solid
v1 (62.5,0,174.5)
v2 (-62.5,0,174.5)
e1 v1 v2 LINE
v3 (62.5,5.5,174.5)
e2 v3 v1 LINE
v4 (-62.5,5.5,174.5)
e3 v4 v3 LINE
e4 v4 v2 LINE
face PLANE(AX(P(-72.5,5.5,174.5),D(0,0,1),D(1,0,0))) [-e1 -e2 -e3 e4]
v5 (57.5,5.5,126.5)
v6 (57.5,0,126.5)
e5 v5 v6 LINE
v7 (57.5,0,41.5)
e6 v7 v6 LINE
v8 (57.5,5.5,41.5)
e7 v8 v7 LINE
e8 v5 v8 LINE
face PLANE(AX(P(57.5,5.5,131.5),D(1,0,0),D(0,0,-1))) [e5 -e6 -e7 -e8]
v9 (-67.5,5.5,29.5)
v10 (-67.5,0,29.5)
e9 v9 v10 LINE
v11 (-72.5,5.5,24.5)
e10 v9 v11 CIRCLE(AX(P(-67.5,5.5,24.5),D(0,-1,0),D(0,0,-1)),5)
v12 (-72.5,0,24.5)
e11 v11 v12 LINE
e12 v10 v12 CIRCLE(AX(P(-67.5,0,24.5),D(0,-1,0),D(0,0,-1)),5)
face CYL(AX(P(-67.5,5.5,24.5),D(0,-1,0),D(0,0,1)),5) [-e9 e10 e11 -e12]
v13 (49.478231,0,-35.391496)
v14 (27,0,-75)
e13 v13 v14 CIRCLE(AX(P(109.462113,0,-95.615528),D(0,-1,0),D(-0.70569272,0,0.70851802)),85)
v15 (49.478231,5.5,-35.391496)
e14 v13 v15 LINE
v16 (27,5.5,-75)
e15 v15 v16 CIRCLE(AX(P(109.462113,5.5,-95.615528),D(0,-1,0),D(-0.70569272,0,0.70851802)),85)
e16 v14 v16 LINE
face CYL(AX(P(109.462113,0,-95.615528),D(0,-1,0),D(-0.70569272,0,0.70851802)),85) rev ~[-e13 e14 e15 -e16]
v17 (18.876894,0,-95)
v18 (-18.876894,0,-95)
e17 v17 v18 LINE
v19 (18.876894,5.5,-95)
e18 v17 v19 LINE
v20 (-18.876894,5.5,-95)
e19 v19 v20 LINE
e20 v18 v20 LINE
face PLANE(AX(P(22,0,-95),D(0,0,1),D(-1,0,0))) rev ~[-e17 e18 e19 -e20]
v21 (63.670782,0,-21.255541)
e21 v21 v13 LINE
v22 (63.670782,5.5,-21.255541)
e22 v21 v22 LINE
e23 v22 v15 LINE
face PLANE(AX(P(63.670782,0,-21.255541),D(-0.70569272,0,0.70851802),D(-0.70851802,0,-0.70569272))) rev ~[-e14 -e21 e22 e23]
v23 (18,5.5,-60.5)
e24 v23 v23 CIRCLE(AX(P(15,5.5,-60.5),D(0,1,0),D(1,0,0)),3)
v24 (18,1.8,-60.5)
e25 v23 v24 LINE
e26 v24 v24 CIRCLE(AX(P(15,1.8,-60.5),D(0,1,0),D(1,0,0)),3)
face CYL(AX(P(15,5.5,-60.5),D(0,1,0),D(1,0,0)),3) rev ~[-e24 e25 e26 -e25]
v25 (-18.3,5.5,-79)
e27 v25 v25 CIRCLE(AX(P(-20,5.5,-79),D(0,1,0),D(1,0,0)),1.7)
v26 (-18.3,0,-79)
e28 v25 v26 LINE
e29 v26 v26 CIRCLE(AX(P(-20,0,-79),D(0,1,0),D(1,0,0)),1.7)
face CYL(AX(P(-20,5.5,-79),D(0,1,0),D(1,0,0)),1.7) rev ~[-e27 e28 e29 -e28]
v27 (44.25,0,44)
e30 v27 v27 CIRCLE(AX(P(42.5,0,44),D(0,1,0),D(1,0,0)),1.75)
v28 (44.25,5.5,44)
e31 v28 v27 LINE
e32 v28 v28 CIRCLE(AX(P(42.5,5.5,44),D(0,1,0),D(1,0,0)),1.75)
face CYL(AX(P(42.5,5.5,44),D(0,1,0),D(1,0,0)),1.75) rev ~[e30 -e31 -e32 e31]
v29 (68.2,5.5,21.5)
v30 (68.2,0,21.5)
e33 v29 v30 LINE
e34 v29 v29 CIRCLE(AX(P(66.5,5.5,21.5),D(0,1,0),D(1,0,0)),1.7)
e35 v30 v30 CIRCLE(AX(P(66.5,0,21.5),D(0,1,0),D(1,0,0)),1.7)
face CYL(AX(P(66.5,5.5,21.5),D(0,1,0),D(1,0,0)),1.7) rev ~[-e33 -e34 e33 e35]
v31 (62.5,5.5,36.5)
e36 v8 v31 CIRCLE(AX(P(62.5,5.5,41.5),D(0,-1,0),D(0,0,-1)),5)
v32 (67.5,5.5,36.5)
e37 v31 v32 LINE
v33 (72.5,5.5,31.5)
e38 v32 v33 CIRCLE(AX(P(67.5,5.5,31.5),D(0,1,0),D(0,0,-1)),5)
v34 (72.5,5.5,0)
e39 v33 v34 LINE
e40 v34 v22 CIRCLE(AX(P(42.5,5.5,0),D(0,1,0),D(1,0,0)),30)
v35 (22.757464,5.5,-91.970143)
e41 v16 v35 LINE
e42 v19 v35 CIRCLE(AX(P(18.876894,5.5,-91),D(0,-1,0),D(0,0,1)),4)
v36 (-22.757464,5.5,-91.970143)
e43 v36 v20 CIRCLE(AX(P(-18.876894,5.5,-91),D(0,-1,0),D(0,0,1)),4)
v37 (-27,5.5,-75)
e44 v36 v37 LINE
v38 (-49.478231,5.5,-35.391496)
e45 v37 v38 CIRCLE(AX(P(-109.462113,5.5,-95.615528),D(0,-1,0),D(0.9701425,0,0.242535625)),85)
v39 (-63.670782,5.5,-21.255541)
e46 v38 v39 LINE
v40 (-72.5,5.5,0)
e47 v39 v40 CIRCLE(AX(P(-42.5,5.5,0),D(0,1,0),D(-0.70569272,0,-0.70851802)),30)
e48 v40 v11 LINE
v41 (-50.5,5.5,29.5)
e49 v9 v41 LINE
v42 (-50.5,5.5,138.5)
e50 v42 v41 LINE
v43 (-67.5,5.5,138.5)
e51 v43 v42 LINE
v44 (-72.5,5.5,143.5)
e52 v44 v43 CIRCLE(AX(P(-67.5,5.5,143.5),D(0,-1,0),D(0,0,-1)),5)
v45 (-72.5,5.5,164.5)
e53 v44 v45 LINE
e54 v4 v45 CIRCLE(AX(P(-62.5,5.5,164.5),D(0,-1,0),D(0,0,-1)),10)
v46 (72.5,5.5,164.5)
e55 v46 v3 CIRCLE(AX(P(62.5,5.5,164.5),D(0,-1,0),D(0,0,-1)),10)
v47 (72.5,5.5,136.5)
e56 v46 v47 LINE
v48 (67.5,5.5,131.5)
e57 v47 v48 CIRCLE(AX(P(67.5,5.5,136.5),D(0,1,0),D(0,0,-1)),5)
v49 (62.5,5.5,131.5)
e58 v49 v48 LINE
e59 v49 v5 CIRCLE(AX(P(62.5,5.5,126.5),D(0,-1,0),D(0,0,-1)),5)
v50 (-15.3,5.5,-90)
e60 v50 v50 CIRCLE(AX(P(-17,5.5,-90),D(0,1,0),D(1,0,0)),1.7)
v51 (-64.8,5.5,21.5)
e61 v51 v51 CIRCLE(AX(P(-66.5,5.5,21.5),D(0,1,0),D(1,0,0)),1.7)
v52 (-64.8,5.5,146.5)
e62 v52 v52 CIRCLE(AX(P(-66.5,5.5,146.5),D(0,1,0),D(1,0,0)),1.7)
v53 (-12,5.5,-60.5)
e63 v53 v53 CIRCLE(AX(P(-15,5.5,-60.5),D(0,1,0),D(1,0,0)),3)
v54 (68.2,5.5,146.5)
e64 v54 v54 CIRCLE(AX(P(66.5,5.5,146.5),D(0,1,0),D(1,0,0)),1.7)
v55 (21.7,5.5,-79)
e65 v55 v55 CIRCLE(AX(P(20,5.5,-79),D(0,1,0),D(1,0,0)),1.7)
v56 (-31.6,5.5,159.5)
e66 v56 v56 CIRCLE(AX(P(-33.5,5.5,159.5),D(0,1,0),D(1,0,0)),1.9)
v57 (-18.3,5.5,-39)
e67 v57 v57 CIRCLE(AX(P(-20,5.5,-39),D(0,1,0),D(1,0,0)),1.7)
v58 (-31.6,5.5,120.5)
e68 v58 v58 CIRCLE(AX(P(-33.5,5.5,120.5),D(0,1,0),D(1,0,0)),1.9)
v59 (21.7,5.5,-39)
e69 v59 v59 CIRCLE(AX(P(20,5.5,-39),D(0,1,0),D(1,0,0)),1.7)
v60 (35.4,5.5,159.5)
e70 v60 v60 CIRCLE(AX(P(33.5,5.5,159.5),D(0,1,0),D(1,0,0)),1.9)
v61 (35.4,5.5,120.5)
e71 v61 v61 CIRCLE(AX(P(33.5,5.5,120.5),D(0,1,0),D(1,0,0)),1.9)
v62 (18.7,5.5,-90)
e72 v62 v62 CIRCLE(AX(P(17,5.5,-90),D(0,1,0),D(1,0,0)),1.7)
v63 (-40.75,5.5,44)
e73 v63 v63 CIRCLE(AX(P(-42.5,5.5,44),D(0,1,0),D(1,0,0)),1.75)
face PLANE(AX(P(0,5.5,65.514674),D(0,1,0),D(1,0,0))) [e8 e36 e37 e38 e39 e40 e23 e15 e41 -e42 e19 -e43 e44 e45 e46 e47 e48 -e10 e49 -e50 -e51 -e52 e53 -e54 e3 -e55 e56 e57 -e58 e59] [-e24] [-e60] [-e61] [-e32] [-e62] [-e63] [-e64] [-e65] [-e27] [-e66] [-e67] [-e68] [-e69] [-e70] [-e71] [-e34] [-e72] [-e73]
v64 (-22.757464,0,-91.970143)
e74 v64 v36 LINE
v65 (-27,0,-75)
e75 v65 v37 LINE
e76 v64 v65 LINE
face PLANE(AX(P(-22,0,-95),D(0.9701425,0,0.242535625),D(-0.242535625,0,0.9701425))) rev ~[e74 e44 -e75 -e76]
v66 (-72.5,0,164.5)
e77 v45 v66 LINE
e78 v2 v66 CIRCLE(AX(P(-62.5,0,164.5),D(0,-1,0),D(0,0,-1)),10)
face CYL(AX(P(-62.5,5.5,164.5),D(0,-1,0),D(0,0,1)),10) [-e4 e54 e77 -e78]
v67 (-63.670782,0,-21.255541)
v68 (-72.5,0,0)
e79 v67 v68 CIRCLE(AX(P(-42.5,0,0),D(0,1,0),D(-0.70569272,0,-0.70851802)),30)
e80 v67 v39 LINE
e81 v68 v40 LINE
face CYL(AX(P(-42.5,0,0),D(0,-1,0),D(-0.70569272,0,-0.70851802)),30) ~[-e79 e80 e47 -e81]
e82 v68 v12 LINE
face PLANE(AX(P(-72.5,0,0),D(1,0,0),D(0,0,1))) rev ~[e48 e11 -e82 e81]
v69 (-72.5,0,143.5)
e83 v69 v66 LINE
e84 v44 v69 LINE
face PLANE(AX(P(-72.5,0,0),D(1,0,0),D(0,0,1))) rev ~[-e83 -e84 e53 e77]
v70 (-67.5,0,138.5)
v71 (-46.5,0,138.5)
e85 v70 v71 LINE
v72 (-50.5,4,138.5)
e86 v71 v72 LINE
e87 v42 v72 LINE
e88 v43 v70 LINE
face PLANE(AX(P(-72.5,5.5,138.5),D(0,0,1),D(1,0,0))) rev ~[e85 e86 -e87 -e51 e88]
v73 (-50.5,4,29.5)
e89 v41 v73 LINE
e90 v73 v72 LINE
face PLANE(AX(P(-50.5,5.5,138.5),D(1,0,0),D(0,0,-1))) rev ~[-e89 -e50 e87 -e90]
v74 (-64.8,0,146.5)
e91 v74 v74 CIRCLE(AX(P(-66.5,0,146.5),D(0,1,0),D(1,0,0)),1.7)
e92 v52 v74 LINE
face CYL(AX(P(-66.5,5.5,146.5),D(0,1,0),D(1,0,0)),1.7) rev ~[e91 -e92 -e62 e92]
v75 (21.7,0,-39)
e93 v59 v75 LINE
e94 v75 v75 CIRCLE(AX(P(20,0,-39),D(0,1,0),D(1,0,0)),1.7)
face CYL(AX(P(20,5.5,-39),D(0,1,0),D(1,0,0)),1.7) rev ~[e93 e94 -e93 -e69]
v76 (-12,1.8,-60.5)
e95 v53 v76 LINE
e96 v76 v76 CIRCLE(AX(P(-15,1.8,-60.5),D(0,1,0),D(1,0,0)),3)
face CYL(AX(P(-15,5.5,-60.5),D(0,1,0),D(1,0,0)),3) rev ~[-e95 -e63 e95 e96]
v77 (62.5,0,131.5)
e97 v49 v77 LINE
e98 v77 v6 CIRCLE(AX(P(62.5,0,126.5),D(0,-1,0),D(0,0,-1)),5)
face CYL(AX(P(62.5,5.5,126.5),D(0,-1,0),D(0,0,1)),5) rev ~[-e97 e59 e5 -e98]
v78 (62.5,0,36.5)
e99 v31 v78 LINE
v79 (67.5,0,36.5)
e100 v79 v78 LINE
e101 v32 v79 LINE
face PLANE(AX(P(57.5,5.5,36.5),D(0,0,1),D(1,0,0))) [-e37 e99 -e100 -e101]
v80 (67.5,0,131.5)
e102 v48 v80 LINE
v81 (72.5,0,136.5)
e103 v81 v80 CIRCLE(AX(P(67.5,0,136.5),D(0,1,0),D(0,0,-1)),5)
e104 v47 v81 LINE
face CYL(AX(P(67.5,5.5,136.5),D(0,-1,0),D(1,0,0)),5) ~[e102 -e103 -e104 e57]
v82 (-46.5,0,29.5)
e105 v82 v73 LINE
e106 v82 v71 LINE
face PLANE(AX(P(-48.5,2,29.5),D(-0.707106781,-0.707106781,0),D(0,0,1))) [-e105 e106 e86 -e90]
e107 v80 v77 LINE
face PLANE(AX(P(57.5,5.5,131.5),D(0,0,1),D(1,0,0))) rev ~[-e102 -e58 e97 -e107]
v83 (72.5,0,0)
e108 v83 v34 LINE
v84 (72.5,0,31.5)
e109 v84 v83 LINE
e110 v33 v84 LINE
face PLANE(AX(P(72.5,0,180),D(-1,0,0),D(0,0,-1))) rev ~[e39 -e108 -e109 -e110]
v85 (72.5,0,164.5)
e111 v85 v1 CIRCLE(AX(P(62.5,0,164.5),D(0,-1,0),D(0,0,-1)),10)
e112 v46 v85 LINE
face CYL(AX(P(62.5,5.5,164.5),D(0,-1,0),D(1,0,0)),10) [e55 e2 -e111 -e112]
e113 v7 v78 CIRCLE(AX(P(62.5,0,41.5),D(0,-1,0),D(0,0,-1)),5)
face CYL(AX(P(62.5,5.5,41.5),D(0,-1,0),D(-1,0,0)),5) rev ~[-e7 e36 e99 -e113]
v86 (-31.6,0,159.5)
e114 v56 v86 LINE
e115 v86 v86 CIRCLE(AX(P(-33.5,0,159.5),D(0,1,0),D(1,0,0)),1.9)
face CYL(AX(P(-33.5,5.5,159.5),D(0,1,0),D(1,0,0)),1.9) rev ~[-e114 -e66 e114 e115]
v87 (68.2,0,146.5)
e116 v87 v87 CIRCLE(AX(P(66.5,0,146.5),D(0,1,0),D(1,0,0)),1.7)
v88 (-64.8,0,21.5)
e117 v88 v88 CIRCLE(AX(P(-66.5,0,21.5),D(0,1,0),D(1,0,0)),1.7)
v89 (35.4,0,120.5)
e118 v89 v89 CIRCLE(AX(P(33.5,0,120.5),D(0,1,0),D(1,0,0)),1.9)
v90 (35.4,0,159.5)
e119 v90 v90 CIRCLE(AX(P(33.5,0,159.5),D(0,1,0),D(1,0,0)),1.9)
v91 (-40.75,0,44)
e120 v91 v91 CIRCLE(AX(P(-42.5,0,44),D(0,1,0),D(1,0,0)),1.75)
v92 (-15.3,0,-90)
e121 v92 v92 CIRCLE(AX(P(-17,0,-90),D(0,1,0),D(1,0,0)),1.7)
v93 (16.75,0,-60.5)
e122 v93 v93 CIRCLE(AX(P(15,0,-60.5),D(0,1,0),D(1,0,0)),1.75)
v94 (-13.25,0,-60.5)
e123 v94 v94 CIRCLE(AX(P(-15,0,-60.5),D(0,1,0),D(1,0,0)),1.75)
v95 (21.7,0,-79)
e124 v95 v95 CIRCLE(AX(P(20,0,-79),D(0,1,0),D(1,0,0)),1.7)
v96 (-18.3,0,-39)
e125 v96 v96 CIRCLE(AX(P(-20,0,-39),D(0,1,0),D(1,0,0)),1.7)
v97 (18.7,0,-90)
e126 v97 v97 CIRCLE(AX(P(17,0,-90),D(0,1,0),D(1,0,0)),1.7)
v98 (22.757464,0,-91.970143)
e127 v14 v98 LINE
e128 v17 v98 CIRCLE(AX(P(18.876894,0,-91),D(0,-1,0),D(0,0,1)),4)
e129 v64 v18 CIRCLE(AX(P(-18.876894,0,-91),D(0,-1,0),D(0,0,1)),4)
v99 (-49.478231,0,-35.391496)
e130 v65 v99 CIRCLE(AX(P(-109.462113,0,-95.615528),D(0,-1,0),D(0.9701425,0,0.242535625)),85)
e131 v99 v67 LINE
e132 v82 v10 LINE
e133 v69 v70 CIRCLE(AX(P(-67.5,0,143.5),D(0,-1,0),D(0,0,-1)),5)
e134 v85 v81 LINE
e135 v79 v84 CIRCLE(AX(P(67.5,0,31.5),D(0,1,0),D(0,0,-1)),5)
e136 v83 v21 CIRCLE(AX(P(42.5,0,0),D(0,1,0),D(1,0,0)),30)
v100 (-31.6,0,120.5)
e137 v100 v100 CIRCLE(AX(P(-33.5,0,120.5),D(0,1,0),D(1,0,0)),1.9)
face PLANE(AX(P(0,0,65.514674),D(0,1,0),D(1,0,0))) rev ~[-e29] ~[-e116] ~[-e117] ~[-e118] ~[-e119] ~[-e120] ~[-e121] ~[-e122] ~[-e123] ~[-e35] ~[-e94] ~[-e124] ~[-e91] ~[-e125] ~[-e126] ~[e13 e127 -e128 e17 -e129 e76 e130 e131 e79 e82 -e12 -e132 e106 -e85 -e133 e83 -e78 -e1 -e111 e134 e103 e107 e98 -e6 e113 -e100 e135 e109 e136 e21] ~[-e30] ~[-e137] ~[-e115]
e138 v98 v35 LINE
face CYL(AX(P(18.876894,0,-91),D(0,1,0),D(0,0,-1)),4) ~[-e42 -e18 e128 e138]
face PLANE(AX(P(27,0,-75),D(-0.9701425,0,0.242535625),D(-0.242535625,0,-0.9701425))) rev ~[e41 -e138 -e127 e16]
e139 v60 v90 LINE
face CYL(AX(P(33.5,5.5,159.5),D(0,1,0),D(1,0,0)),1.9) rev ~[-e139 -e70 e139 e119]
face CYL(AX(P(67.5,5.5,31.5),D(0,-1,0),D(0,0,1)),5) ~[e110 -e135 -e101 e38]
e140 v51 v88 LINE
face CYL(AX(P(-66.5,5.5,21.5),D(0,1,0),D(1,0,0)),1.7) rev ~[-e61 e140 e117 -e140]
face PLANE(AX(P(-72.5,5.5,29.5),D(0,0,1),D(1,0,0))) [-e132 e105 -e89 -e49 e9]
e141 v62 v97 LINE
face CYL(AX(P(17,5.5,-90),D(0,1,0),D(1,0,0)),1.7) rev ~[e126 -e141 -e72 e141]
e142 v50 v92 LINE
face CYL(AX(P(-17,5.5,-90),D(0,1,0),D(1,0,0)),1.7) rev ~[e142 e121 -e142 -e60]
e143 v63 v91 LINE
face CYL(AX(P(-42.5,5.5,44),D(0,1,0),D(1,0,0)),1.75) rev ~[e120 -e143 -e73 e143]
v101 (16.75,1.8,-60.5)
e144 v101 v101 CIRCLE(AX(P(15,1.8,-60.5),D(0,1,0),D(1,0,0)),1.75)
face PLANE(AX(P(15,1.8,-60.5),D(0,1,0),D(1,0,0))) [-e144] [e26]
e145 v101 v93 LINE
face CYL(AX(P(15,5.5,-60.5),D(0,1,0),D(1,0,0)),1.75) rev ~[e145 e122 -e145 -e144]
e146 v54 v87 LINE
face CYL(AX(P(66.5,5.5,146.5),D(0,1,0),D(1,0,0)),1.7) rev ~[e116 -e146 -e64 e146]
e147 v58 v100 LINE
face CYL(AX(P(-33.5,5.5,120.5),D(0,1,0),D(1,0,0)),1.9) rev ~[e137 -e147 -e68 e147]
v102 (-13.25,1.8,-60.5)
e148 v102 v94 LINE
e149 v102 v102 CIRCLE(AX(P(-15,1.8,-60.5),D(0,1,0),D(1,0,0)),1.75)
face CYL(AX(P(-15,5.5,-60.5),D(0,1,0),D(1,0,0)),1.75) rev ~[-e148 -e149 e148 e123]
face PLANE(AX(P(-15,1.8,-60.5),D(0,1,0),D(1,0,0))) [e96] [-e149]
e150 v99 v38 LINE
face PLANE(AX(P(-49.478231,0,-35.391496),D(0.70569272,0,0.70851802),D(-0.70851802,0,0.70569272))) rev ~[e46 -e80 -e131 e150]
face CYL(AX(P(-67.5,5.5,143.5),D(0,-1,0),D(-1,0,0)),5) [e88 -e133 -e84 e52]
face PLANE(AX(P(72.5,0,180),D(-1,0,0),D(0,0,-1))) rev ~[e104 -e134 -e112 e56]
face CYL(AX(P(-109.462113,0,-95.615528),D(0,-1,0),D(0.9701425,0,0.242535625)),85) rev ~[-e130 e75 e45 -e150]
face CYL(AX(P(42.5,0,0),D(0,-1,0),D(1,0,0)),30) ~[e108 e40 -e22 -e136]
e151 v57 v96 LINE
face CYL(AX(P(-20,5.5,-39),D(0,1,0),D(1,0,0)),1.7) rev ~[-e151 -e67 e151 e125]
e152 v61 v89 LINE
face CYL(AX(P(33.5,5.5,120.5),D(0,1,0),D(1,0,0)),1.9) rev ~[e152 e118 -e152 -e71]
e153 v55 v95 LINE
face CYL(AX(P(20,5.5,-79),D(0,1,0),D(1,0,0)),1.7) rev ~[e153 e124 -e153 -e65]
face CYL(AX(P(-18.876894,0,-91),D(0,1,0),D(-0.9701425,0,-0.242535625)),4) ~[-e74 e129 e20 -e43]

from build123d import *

# Parameters (mm, degrees)
DECK_BASE_DEPTH     = 5.5
BOLT_SLOT_REACH     = 7.5
SKETCH_3_R          = 1.7
FILLET_1_R          = 4
CUT_EXTRUDE_2_REACH = 7.5
SKETCH_11_W         = 22
SKETCH_11_H         = 109
SKETCH_11_W_2       = 15
SKETCH_11_H_2       = 95
CUT_EXTRUDE_1_REACH = 7.5
SKETCH_10_W         = 145
SKETCH_10_H         = 38.5
FILLET_2_R          = 10
FILLET_3_R          = 5
LIDAR_SLOT_REACH    = 7.5
SKETCH_4_R          = 1.7
VESC_SLOT_REACH     = 7.5
SKETCH_6_R          = 1.9
NANO_SLOT_REACH     = 7.5
SKETCH_7_R          = 1.75
CUT_EXTRUDE_3_REACH = 7.5
SKETCH_12_R         = 1.75
SKETCH_13_R         = 3
CUT_EXTRUDE_4_DEPTH = 3.7
CHAMFER_1_SIZE      = 4


with BuildPart() as part:
    # 스케치1 → Deck base (new body)
    with BuildSketch(Plane(origin=(0, 0, 0), x_dir=(1, 0, 0), z_dir=(0, 1, 0))):
        with BuildLine():
            Line((-72.5, 0), (-72.5, -180))
            ThreePointArc((-72.5, -180), (-69.571067812, -187.071067812), (-62.5, -190))
            Line((-62.5, -190), (-49.196112248, -190))
            ThreePointArc((-49.196112248, -190), (-47.589899161, -190.265015363), (-46.15395453, -191.031968194))
            Line((-46.15395453, -191.031968194), (-18.84604547, -211.968031806))
            ThreePointArc((-18.84604547, -211.968031806), (-17.410100839, -212.734984637), (-15.803887752, -213))
            Line((-15.803887752, -213), (15.803887752, -213))
            ThreePointArc((15.803887752, -213), (17.410100839, -212.734984637), (18.84604547, -211.968031806))
            Line((18.84604547, -211.968031806), (46.15395453, -191.031968194))
            ThreePointArc((46.15395453, -191.031968194), (47.589899161, -190.265015363), (49.196112248, -190))
            Line((49.196112248, -190), (62.5, -190))
            ThreePointArc((62.5, -190), (69.571067812, -187.071067812), (72.5, -180))
            Line((72.5, -180), (72.5, 0))
            ThreePointArc((72.5, 0), (70.204904333, 11.508182998), (63.670781605, 21.255540601))
            Line((63.670781605, 21.255540601), (49.478231298, 35.391496426))
            ThreePointArc((49.478231298, 35.391496426), (35.536990456, 53.662264501), (27, 75))
            Line((27, 75), (22, 95))
            Line((22, 95), (-22, 95))
            Line((-22, 95), (-27, 75))
            ThreePointArc((-27, 75), (-35.536990456, 53.662264501), (-49.478231298, 35.391496426))
            Line((-49.478231298, 35.391496426), (-63.670781605, 21.255540601))
            ThreePointArc((-63.670781605, 21.255540601), (-70.204904333, 11.508182998), (-72.5, 0))
        make_face()
    extrude(amount=DECK_BASE_DEPTH)

    # 스케치3 → Bolt slot (cut, up to next)
    with BuildSketch(Plane(origin=(0, 5.5, 0), x_dir=(1, 0, 0), z_dir=(0, 1, 0)), mode=Mode.PRIVATE) as bolt_slot_sk1:
        with Locations((17, 90)):
            Circle(SKETCH_3_R)
    bolt_slot_tool1 = extrude(bolt_slot_sk1.sketch, amount=-BOLT_SLOT_REACH, mode=Mode.PRIVATE) & part.part
    add(bolt_slot_tool1.solids().sort_by_distance((17, 5.5, -90))[0], mode=Mode.SUBTRACT)
    # 스케치3 → Bolt slot (cut, up to next)
    with BuildSketch(Plane(origin=(0, 5.5, 0), x_dir=(1, 0, 0), z_dir=(0, 1, 0)), mode=Mode.PRIVATE) as bolt_slot_sk2:
        with Locations((66.5, -146.5)):
            Circle(SKETCH_3_R)
    bolt_slot_tool2 = extrude(bolt_slot_sk2.sketch, amount=-BOLT_SLOT_REACH, mode=Mode.PRIVATE) & part.part
    add(bolt_slot_tool2.solids().sort_by_distance((66.5, 5.5, 146.5))[0], mode=Mode.SUBTRACT)
    # 스케치3 → Bolt slot (cut, up to next)
    with BuildSketch(Plane(origin=(0, 5.5, 0), x_dir=(1, 0, 0), z_dir=(0, 1, 0)), mode=Mode.PRIVATE) as bolt_slot_sk3:
        with Locations((66.5, -116.5)):
            Circle(SKETCH_3_R)
    bolt_slot_tool3 = extrude(bolt_slot_sk3.sketch, amount=-BOLT_SLOT_REACH, mode=Mode.PRIVATE) & part.part
    add(bolt_slot_tool3.solids().sort_by_distance((66.5, 5.5, 116.5))[0], mode=Mode.SUBTRACT)
    # 스케치3 → Bolt slot (cut, up to next)
    with BuildSketch(Plane(origin=(0, 5.5, 0), x_dir=(1, 0, 0), z_dir=(0, 1, 0)), mode=Mode.PRIVATE) as bolt_slot_sk4:
        with Locations((66.5, -51.5)):
            Circle(SKETCH_3_R)
    bolt_slot_tool4 = extrude(bolt_slot_sk4.sketch, amount=-BOLT_SLOT_REACH, mode=Mode.PRIVATE) & part.part
    add(bolt_slot_tool4.solids().sort_by_distance((66.5, 5.5, 51.5))[0], mode=Mode.SUBTRACT)
    # 스케치3 → Bolt slot (cut, up to next)
    with BuildSketch(Plane(origin=(0, 5.5, 0), x_dir=(1, 0, 0), z_dir=(0, 1, 0)), mode=Mode.PRIVATE) as bolt_slot_sk5:
        with Locations((66.5, -21.5)):
            Circle(SKETCH_3_R)
    bolt_slot_tool5 = extrude(bolt_slot_sk5.sketch, amount=-BOLT_SLOT_REACH, mode=Mode.PRIVATE) & part.part
    add(bolt_slot_tool5.solids().sort_by_distance((66.5, 5.5, 21.5))[0], mode=Mode.SUBTRACT)
    # 스케치3 → Bolt slot (cut, up to next)
    with BuildSketch(Plane(origin=(0, 5.5, 0), x_dir=(1, 0, 0), z_dir=(0, 1, 0)), mode=Mode.PRIVATE) as bolt_slot_sk6:
        with Locations((-66.5, -21.5)):
            Circle(SKETCH_3_R)
    bolt_slot_tool6 = extrude(bolt_slot_sk6.sketch, amount=-BOLT_SLOT_REACH, mode=Mode.PRIVATE) & part.part
    add(bolt_slot_tool6.solids().sort_by_distance((-66.5, 5.5, 21.5))[0], mode=Mode.SUBTRACT)
    # 스케치3 → Bolt slot (cut, up to next)
    with BuildSketch(Plane(origin=(0, 5.5, 0), x_dir=(1, 0, 0), z_dir=(0, 1, 0)), mode=Mode.PRIVATE) as bolt_slot_sk7:
        with Locations((-66.5, -51.5)):
            Circle(SKETCH_3_R)
    bolt_slot_tool7 = extrude(bolt_slot_sk7.sketch, amount=-BOLT_SLOT_REACH, mode=Mode.PRIVATE) & part.part
    add(bolt_slot_tool7.solids().sort_by_distance((-66.5, 5.5, 51.5))[0], mode=Mode.SUBTRACT)
    # 스케치3 → Bolt slot (cut, up to next)
    with BuildSketch(Plane(origin=(0, 5.5, 0), x_dir=(1, 0, 0), z_dir=(0, 1, 0)), mode=Mode.PRIVATE) as bolt_slot_sk8:
        with Locations((-66.5, -116.5)):
            Circle(SKETCH_3_R)
    bolt_slot_tool8 = extrude(bolt_slot_sk8.sketch, amount=-BOLT_SLOT_REACH, mode=Mode.PRIVATE) & part.part
    add(bolt_slot_tool8.solids().sort_by_distance((-66.5, 5.5, 116.5))[0], mode=Mode.SUBTRACT)
    # 스케치3 → Bolt slot (cut, up to next)
    with BuildSketch(Plane(origin=(0, 5.5, 0), x_dir=(1, 0, 0), z_dir=(0, 1, 0)), mode=Mode.PRIVATE) as bolt_slot_sk9:
        with Locations((-66.5, -146.5)):
            Circle(SKETCH_3_R)
    bolt_slot_tool9 = extrude(bolt_slot_sk9.sketch, amount=-BOLT_SLOT_REACH, mode=Mode.PRIVATE) & part.part
    add(bolt_slot_tool9.solids().sort_by_distance((-66.5, 5.5, 146.5))[0], mode=Mode.SUBTRACT)
    # 스케치3 → Bolt slot (cut, up to next)
    with BuildSketch(Plane(origin=(0, 5.5, 0), x_dir=(1, 0, 0), z_dir=(0, 1, 0)), mode=Mode.PRIVATE) as bolt_slot_sk10:
        with Locations((-17, 90)):
            Circle(SKETCH_3_R)
    bolt_slot_tool10 = extrude(bolt_slot_sk10.sketch, amount=-BOLT_SLOT_REACH, mode=Mode.PRIVATE) & part.part
    add(bolt_slot_tool10.solids().sort_by_distance((-17, 5.5, -90))[0], mode=Mode.SUBTRACT)

    # 필렛1
    fillet_1_edges = [part.edges().sort_by_distance(p)[0] for p in [
        (22, 2.75, -95),
        (-22, 2.75, -95),
    ]]
    fillet(fillet_1_edges, radius=FILLET_1_R)

    # 스케치11 → 컷-돌출2 (cut, up to next)
    with BuildSketch(Plane(origin=(0, 5.5, 0), x_dir=(1, 0, 0), z_dir=(0, 1, 0)), mode=Mode.PRIVATE) as cut_extrude_2_sk1:
        with Locations((-61.5, -84)):
            Rectangle(SKETCH_11_W, SKETCH_11_H)
    cut_extrude_2_tool1 = extrude(cut_extrude_2_sk1.sketch, amount=-CUT_EXTRUDE_2_REACH, mode=Mode.PRIVATE) & part.part
    add(cut_extrude_2_tool1.solids().sort_by_distance((-61.5, 5.5, 84))[0], mode=Mode.SUBTRACT)
    # 스케치11 → 컷-돌출2 (cut, up to next)
    with BuildSketch(Plane(origin=(0, 5.5, 0), x_dir=(1, 0, 0), z_dir=(0, 1, 0)), mode=Mode.PRIVATE) as cut_extrude_2_sk2:
        with Locations((65, -84)):
            Rectangle(SKETCH_11_W_2, SKETCH_11_H_2)
    cut_extrude_2_tool2 = extrude(cut_extrude_2_sk2.sketch, amount=-CUT_EXTRUDE_2_REACH, mode=Mode.PRIVATE) & part.part
    add(cut_extrude_2_tool2.solids().sort_by_distance((65, 5.5, 84))[0], mode=Mode.SUBTRACT)

    # 스케치10 → 컷-돌출1 (cut, up to next)
    with BuildSketch(Plane(origin=(0, 5.5, 0), x_dir=(1, 0, 0), z_dir=(0, 1, 0)), mode=Mode.PRIVATE) as cut_extrude_1_sk1:
        with Locations((0, -193.75)):
            Rectangle(SKETCH_10_W, SKETCH_10_H)
    cut_extrude_1_tool1 = extrude(cut_extrude_1_sk1.sketch, amount=-CUT_EXTRUDE_1_REACH, mode=Mode.PRIVATE) & part.part
    add(cut_extrude_1_tool1.solids().sort_by_distance((0, 5.5, 193.75))[0], mode=Mode.SUBTRACT)

    # 필렛2
    fillet_2_edges = [part.edges().sort_by_distance(p)[0] for p in [
        (72.5, 2.75, 174.5),
        (-72.5, 2.75, 174.5),
    ]]
    fillet(fillet_2_edges, radius=FILLET_2_R)

    # 필렛3
    fillet_3_edges = [part.edges().sort_by_distance(p)[0] for p in [
        (-72.5, 2.75, 138.5),
        (-72.5, 2.75, 29.5),
        (72.5, 2.75, 36.5),
        (72.5, 2.75, 131.5),
        (57.5, 2.75, 131.5),
        (57.5, 2.75, 36.5),
    ]]
    fillet(fillet_3_edges, radius=FILLET_3_R)

    # 스케치4 → Lidar slot (cut, up to next)
    with BuildSketch(Plane(origin=(0, 5.5, 0), x_dir=(1, 0, 0), z_dir=(0, 1, 0)), mode=Mode.PRIVATE) as lidar_slot_sk1:
        with Locations((-20, 79)):
            Circle(SKETCH_4_R)
    lidar_slot_tool1 = extrude(lidar_slot_sk1.sketch, amount=-LIDAR_SLOT_REACH, mode=Mode.PRIVATE) & part.part
    add(lidar_slot_tool1.solids().sort_by_distance((-20, 5.5, -79))[0], mode=Mode.SUBTRACT)
    # 스케치4 → Lidar slot (cut, up to next)
    with BuildSketch(Plane(origin=(0, 5.5, 0), x_dir=(1, 0, 0), z_dir=(0, 1, 0)), mode=Mode.PRIVATE) as lidar_slot_sk2:
        with Locations((-20, 39)):
            Circle(SKETCH_4_R)
    lidar_slot_tool2 = extrude(lidar_slot_sk2.sketch, amount=-LIDAR_SLOT_REACH, mode=Mode.PRIVATE) & part.part
    add(lidar_slot_tool2.solids().sort_by_distance((-20, 5.5, -39))[0], mode=Mode.SUBTRACT)
    # 스케치4 → Lidar slot (cut, up to next)
    with BuildSketch(Plane(origin=(0, 5.5, 0), x_dir=(1, 0, 0), z_dir=(0, 1, 0)), mode=Mode.PRIVATE) as lidar_slot_sk3:
        with Locations((20, 39)):
            Circle(SKETCH_4_R)
    lidar_slot_tool3 = extrude(lidar_slot_sk3.sketch, amount=-LIDAR_SLOT_REACH, mode=Mode.PRIVATE) & part.part
    add(lidar_slot_tool3.solids().sort_by_distance((20, 5.5, -39))[0], mode=Mode.SUBTRACT)
    # 스케치4 → Lidar slot (cut, up to next)
    with BuildSketch(Plane(origin=(0, 5.5, 0), x_dir=(1, 0, 0), z_dir=(0, 1, 0)), mode=Mode.PRIVATE) as lidar_slot_sk4:
        with Locations((20, 79)):
            Circle(SKETCH_4_R)
    lidar_slot_tool4 = extrude(lidar_slot_sk4.sketch, amount=-LIDAR_SLOT_REACH, mode=Mode.PRIVATE) & part.part
    add(lidar_slot_tool4.solids().sort_by_distance((20, 5.5, -79))[0], mode=Mode.SUBTRACT)

    # 스케치6 → Vesc slot (cut, up to next)
    with BuildSketch(Plane(origin=(0, 5.5, 0), x_dir=(1, 0, 0), z_dir=(0, 1, 0)), mode=Mode.PRIVATE) as vesc_slot_sk1:
        with Locations((33.5, -120.5)):
            Circle(SKETCH_6_R)
    vesc_slot_tool1 = extrude(vesc_slot_sk1.sketch, amount=-VESC_SLOT_REACH, mode=Mode.PRIVATE) & part.part
    add(vesc_slot_tool1.solids().sort_by_distance((33.5, 5.5, 120.5))[0], mode=Mode.SUBTRACT)
    # 스케치6 → Vesc slot (cut, up to next)
    with BuildSketch(Plane(origin=(0, 5.5, 0), x_dir=(1, 0, 0), z_dir=(0, 1, 0)), mode=Mode.PRIVATE) as vesc_slot_sk2:
        with Locations((33.5, -159.5)):
            Circle(SKETCH_6_R)
    vesc_slot_tool2 = extrude(vesc_slot_sk2.sketch, amount=-VESC_SLOT_REACH, mode=Mode.PRIVATE) & part.part
    add(vesc_slot_tool2.solids().sort_by_distance((33.5, 5.5, 159.5))[0], mode=Mode.SUBTRACT)
    # 스케치6 → Vesc slot (cut, up to next)
    with BuildSketch(Plane(origin=(0, 5.5, 0), x_dir=(1, 0, 0), z_dir=(0, 1, 0)), mode=Mode.PRIVATE) as vesc_slot_sk3:
        with Locations((-33.5, -159.5)):
            Circle(SKETCH_6_R)
    vesc_slot_tool3 = extrude(vesc_slot_sk3.sketch, amount=-VESC_SLOT_REACH, mode=Mode.PRIVATE) & part.part
    add(vesc_slot_tool3.solids().sort_by_distance((-33.5, 5.5, 159.5))[0], mode=Mode.SUBTRACT)
    # 스케치6 → Vesc slot (cut, up to next)
    with BuildSketch(Plane(origin=(0, 5.5, 0), x_dir=(1, 0, 0), z_dir=(0, 1, 0)), mode=Mode.PRIVATE) as vesc_slot_sk4:
        with Locations((-33.5, -120.5)):
            Circle(SKETCH_6_R)
    vesc_slot_tool4 = extrude(vesc_slot_sk4.sketch, amount=-VESC_SLOT_REACH, mode=Mode.PRIVATE) & part.part
    add(vesc_slot_tool4.solids().sort_by_distance((-33.5, 5.5, 120.5))[0], mode=Mode.SUBTRACT)

    # 스케치7 → Nano slot (cut, up to next)
    with BuildSketch(Plane(origin=(0, 5.5, 0), x_dir=(1, 0, 0), z_dir=(0, 1, 0)), mode=Mode.PRIVATE) as nano_slot_sk1:
        with Locations((-42.5, -44)):
            Circle(SKETCH_7_R)
    nano_slot_tool1 = extrude(nano_slot_sk1.sketch, amount=-NANO_SLOT_REACH, mode=Mode.PRIVATE) & part.part
    add(nano_slot_tool1.solids().sort_by_distance((-42.5, 5.5, 44))[0], mode=Mode.SUBTRACT)
    # 스케치7 → Nano slot (cut, up to next)
    with BuildSketch(Plane(origin=(0, 5.5, 0), x_dir=(1, 0, 0), z_dir=(0, 1, 0)), mode=Mode.PRIVATE) as nano_slot_sk2:
        with Locations((42.5, -44)):
            Circle(SKETCH_7_R)
    nano_slot_tool2 = extrude(nano_slot_sk2.sketch, amount=-NANO_SLOT_REACH, mode=Mode.PRIVATE) & part.part
    add(nano_slot_tool2.solids().sort_by_distance((42.5, 5.5, 44))[0], mode=Mode.SUBTRACT)

    # 스케치12 → 컷-돌출3 (cut, up to next)
    with BuildSketch(Plane(origin=(0, 5.5, 0), x_dir=(1, 0, 0), z_dir=(0, 1, 0)), mode=Mode.PRIVATE) as cut_extrude_3_sk1:
        with Locations((-15, 60.5)):
            Circle(SKETCH_12_R)
    cut_extrude_3_tool1 = extrude(cut_extrude_3_sk1.sketch, amount=-CUT_EXTRUDE_3_REACH, mode=Mode.PRIVATE) & part.part
    add(cut_extrude_3_tool1.solids().sort_by_distance((-15, 5.5, -60.5))[0], mode=Mode.SUBTRACT)
    # 스케치12 → 컷-돌출3 (cut, up to next)
    with BuildSketch(Plane(origin=(0, 5.5, 0), x_dir=(1, 0, 0), z_dir=(0, 1, 0)), mode=Mode.PRIVATE) as cut_extrude_3_sk2:
        with Locations((15, 60.5)):
            Circle(SKETCH_12_R)
    cut_extrude_3_tool2 = extrude(cut_extrude_3_sk2.sketch, amount=-CUT_EXTRUDE_3_REACH, mode=Mode.PRIVATE) & part.part
    add(cut_extrude_3_tool2.solids().sort_by_distance((15, 5.5, -60.5))[0], mode=Mode.SUBTRACT)

    # 스케치13 → 컷-돌출4 (cut)
    with BuildSketch(Plane(origin=(0, 5.5, 0), x_dir=(1, 0, 0), z_dir=(0, 1, 0))):
        with Locations((-15, 60.5)):
            Circle(SKETCH_13_R)
        with Locations((15, 60.5)):
            Circle(SKETCH_13_R)
    extrude(amount=-CUT_EXTRUDE_4_DEPTH, mode=Mode.SUBTRACT)

    # 모따기1
    chamfer_1_edges = [part.edges().sort_by_distance(p)[0] for p in [
        (-50.5, 0, 84),
    ]]
    chamfer(chamfer_1_edges, length=CHAMFER_1_SIZE)


solid = part.part
